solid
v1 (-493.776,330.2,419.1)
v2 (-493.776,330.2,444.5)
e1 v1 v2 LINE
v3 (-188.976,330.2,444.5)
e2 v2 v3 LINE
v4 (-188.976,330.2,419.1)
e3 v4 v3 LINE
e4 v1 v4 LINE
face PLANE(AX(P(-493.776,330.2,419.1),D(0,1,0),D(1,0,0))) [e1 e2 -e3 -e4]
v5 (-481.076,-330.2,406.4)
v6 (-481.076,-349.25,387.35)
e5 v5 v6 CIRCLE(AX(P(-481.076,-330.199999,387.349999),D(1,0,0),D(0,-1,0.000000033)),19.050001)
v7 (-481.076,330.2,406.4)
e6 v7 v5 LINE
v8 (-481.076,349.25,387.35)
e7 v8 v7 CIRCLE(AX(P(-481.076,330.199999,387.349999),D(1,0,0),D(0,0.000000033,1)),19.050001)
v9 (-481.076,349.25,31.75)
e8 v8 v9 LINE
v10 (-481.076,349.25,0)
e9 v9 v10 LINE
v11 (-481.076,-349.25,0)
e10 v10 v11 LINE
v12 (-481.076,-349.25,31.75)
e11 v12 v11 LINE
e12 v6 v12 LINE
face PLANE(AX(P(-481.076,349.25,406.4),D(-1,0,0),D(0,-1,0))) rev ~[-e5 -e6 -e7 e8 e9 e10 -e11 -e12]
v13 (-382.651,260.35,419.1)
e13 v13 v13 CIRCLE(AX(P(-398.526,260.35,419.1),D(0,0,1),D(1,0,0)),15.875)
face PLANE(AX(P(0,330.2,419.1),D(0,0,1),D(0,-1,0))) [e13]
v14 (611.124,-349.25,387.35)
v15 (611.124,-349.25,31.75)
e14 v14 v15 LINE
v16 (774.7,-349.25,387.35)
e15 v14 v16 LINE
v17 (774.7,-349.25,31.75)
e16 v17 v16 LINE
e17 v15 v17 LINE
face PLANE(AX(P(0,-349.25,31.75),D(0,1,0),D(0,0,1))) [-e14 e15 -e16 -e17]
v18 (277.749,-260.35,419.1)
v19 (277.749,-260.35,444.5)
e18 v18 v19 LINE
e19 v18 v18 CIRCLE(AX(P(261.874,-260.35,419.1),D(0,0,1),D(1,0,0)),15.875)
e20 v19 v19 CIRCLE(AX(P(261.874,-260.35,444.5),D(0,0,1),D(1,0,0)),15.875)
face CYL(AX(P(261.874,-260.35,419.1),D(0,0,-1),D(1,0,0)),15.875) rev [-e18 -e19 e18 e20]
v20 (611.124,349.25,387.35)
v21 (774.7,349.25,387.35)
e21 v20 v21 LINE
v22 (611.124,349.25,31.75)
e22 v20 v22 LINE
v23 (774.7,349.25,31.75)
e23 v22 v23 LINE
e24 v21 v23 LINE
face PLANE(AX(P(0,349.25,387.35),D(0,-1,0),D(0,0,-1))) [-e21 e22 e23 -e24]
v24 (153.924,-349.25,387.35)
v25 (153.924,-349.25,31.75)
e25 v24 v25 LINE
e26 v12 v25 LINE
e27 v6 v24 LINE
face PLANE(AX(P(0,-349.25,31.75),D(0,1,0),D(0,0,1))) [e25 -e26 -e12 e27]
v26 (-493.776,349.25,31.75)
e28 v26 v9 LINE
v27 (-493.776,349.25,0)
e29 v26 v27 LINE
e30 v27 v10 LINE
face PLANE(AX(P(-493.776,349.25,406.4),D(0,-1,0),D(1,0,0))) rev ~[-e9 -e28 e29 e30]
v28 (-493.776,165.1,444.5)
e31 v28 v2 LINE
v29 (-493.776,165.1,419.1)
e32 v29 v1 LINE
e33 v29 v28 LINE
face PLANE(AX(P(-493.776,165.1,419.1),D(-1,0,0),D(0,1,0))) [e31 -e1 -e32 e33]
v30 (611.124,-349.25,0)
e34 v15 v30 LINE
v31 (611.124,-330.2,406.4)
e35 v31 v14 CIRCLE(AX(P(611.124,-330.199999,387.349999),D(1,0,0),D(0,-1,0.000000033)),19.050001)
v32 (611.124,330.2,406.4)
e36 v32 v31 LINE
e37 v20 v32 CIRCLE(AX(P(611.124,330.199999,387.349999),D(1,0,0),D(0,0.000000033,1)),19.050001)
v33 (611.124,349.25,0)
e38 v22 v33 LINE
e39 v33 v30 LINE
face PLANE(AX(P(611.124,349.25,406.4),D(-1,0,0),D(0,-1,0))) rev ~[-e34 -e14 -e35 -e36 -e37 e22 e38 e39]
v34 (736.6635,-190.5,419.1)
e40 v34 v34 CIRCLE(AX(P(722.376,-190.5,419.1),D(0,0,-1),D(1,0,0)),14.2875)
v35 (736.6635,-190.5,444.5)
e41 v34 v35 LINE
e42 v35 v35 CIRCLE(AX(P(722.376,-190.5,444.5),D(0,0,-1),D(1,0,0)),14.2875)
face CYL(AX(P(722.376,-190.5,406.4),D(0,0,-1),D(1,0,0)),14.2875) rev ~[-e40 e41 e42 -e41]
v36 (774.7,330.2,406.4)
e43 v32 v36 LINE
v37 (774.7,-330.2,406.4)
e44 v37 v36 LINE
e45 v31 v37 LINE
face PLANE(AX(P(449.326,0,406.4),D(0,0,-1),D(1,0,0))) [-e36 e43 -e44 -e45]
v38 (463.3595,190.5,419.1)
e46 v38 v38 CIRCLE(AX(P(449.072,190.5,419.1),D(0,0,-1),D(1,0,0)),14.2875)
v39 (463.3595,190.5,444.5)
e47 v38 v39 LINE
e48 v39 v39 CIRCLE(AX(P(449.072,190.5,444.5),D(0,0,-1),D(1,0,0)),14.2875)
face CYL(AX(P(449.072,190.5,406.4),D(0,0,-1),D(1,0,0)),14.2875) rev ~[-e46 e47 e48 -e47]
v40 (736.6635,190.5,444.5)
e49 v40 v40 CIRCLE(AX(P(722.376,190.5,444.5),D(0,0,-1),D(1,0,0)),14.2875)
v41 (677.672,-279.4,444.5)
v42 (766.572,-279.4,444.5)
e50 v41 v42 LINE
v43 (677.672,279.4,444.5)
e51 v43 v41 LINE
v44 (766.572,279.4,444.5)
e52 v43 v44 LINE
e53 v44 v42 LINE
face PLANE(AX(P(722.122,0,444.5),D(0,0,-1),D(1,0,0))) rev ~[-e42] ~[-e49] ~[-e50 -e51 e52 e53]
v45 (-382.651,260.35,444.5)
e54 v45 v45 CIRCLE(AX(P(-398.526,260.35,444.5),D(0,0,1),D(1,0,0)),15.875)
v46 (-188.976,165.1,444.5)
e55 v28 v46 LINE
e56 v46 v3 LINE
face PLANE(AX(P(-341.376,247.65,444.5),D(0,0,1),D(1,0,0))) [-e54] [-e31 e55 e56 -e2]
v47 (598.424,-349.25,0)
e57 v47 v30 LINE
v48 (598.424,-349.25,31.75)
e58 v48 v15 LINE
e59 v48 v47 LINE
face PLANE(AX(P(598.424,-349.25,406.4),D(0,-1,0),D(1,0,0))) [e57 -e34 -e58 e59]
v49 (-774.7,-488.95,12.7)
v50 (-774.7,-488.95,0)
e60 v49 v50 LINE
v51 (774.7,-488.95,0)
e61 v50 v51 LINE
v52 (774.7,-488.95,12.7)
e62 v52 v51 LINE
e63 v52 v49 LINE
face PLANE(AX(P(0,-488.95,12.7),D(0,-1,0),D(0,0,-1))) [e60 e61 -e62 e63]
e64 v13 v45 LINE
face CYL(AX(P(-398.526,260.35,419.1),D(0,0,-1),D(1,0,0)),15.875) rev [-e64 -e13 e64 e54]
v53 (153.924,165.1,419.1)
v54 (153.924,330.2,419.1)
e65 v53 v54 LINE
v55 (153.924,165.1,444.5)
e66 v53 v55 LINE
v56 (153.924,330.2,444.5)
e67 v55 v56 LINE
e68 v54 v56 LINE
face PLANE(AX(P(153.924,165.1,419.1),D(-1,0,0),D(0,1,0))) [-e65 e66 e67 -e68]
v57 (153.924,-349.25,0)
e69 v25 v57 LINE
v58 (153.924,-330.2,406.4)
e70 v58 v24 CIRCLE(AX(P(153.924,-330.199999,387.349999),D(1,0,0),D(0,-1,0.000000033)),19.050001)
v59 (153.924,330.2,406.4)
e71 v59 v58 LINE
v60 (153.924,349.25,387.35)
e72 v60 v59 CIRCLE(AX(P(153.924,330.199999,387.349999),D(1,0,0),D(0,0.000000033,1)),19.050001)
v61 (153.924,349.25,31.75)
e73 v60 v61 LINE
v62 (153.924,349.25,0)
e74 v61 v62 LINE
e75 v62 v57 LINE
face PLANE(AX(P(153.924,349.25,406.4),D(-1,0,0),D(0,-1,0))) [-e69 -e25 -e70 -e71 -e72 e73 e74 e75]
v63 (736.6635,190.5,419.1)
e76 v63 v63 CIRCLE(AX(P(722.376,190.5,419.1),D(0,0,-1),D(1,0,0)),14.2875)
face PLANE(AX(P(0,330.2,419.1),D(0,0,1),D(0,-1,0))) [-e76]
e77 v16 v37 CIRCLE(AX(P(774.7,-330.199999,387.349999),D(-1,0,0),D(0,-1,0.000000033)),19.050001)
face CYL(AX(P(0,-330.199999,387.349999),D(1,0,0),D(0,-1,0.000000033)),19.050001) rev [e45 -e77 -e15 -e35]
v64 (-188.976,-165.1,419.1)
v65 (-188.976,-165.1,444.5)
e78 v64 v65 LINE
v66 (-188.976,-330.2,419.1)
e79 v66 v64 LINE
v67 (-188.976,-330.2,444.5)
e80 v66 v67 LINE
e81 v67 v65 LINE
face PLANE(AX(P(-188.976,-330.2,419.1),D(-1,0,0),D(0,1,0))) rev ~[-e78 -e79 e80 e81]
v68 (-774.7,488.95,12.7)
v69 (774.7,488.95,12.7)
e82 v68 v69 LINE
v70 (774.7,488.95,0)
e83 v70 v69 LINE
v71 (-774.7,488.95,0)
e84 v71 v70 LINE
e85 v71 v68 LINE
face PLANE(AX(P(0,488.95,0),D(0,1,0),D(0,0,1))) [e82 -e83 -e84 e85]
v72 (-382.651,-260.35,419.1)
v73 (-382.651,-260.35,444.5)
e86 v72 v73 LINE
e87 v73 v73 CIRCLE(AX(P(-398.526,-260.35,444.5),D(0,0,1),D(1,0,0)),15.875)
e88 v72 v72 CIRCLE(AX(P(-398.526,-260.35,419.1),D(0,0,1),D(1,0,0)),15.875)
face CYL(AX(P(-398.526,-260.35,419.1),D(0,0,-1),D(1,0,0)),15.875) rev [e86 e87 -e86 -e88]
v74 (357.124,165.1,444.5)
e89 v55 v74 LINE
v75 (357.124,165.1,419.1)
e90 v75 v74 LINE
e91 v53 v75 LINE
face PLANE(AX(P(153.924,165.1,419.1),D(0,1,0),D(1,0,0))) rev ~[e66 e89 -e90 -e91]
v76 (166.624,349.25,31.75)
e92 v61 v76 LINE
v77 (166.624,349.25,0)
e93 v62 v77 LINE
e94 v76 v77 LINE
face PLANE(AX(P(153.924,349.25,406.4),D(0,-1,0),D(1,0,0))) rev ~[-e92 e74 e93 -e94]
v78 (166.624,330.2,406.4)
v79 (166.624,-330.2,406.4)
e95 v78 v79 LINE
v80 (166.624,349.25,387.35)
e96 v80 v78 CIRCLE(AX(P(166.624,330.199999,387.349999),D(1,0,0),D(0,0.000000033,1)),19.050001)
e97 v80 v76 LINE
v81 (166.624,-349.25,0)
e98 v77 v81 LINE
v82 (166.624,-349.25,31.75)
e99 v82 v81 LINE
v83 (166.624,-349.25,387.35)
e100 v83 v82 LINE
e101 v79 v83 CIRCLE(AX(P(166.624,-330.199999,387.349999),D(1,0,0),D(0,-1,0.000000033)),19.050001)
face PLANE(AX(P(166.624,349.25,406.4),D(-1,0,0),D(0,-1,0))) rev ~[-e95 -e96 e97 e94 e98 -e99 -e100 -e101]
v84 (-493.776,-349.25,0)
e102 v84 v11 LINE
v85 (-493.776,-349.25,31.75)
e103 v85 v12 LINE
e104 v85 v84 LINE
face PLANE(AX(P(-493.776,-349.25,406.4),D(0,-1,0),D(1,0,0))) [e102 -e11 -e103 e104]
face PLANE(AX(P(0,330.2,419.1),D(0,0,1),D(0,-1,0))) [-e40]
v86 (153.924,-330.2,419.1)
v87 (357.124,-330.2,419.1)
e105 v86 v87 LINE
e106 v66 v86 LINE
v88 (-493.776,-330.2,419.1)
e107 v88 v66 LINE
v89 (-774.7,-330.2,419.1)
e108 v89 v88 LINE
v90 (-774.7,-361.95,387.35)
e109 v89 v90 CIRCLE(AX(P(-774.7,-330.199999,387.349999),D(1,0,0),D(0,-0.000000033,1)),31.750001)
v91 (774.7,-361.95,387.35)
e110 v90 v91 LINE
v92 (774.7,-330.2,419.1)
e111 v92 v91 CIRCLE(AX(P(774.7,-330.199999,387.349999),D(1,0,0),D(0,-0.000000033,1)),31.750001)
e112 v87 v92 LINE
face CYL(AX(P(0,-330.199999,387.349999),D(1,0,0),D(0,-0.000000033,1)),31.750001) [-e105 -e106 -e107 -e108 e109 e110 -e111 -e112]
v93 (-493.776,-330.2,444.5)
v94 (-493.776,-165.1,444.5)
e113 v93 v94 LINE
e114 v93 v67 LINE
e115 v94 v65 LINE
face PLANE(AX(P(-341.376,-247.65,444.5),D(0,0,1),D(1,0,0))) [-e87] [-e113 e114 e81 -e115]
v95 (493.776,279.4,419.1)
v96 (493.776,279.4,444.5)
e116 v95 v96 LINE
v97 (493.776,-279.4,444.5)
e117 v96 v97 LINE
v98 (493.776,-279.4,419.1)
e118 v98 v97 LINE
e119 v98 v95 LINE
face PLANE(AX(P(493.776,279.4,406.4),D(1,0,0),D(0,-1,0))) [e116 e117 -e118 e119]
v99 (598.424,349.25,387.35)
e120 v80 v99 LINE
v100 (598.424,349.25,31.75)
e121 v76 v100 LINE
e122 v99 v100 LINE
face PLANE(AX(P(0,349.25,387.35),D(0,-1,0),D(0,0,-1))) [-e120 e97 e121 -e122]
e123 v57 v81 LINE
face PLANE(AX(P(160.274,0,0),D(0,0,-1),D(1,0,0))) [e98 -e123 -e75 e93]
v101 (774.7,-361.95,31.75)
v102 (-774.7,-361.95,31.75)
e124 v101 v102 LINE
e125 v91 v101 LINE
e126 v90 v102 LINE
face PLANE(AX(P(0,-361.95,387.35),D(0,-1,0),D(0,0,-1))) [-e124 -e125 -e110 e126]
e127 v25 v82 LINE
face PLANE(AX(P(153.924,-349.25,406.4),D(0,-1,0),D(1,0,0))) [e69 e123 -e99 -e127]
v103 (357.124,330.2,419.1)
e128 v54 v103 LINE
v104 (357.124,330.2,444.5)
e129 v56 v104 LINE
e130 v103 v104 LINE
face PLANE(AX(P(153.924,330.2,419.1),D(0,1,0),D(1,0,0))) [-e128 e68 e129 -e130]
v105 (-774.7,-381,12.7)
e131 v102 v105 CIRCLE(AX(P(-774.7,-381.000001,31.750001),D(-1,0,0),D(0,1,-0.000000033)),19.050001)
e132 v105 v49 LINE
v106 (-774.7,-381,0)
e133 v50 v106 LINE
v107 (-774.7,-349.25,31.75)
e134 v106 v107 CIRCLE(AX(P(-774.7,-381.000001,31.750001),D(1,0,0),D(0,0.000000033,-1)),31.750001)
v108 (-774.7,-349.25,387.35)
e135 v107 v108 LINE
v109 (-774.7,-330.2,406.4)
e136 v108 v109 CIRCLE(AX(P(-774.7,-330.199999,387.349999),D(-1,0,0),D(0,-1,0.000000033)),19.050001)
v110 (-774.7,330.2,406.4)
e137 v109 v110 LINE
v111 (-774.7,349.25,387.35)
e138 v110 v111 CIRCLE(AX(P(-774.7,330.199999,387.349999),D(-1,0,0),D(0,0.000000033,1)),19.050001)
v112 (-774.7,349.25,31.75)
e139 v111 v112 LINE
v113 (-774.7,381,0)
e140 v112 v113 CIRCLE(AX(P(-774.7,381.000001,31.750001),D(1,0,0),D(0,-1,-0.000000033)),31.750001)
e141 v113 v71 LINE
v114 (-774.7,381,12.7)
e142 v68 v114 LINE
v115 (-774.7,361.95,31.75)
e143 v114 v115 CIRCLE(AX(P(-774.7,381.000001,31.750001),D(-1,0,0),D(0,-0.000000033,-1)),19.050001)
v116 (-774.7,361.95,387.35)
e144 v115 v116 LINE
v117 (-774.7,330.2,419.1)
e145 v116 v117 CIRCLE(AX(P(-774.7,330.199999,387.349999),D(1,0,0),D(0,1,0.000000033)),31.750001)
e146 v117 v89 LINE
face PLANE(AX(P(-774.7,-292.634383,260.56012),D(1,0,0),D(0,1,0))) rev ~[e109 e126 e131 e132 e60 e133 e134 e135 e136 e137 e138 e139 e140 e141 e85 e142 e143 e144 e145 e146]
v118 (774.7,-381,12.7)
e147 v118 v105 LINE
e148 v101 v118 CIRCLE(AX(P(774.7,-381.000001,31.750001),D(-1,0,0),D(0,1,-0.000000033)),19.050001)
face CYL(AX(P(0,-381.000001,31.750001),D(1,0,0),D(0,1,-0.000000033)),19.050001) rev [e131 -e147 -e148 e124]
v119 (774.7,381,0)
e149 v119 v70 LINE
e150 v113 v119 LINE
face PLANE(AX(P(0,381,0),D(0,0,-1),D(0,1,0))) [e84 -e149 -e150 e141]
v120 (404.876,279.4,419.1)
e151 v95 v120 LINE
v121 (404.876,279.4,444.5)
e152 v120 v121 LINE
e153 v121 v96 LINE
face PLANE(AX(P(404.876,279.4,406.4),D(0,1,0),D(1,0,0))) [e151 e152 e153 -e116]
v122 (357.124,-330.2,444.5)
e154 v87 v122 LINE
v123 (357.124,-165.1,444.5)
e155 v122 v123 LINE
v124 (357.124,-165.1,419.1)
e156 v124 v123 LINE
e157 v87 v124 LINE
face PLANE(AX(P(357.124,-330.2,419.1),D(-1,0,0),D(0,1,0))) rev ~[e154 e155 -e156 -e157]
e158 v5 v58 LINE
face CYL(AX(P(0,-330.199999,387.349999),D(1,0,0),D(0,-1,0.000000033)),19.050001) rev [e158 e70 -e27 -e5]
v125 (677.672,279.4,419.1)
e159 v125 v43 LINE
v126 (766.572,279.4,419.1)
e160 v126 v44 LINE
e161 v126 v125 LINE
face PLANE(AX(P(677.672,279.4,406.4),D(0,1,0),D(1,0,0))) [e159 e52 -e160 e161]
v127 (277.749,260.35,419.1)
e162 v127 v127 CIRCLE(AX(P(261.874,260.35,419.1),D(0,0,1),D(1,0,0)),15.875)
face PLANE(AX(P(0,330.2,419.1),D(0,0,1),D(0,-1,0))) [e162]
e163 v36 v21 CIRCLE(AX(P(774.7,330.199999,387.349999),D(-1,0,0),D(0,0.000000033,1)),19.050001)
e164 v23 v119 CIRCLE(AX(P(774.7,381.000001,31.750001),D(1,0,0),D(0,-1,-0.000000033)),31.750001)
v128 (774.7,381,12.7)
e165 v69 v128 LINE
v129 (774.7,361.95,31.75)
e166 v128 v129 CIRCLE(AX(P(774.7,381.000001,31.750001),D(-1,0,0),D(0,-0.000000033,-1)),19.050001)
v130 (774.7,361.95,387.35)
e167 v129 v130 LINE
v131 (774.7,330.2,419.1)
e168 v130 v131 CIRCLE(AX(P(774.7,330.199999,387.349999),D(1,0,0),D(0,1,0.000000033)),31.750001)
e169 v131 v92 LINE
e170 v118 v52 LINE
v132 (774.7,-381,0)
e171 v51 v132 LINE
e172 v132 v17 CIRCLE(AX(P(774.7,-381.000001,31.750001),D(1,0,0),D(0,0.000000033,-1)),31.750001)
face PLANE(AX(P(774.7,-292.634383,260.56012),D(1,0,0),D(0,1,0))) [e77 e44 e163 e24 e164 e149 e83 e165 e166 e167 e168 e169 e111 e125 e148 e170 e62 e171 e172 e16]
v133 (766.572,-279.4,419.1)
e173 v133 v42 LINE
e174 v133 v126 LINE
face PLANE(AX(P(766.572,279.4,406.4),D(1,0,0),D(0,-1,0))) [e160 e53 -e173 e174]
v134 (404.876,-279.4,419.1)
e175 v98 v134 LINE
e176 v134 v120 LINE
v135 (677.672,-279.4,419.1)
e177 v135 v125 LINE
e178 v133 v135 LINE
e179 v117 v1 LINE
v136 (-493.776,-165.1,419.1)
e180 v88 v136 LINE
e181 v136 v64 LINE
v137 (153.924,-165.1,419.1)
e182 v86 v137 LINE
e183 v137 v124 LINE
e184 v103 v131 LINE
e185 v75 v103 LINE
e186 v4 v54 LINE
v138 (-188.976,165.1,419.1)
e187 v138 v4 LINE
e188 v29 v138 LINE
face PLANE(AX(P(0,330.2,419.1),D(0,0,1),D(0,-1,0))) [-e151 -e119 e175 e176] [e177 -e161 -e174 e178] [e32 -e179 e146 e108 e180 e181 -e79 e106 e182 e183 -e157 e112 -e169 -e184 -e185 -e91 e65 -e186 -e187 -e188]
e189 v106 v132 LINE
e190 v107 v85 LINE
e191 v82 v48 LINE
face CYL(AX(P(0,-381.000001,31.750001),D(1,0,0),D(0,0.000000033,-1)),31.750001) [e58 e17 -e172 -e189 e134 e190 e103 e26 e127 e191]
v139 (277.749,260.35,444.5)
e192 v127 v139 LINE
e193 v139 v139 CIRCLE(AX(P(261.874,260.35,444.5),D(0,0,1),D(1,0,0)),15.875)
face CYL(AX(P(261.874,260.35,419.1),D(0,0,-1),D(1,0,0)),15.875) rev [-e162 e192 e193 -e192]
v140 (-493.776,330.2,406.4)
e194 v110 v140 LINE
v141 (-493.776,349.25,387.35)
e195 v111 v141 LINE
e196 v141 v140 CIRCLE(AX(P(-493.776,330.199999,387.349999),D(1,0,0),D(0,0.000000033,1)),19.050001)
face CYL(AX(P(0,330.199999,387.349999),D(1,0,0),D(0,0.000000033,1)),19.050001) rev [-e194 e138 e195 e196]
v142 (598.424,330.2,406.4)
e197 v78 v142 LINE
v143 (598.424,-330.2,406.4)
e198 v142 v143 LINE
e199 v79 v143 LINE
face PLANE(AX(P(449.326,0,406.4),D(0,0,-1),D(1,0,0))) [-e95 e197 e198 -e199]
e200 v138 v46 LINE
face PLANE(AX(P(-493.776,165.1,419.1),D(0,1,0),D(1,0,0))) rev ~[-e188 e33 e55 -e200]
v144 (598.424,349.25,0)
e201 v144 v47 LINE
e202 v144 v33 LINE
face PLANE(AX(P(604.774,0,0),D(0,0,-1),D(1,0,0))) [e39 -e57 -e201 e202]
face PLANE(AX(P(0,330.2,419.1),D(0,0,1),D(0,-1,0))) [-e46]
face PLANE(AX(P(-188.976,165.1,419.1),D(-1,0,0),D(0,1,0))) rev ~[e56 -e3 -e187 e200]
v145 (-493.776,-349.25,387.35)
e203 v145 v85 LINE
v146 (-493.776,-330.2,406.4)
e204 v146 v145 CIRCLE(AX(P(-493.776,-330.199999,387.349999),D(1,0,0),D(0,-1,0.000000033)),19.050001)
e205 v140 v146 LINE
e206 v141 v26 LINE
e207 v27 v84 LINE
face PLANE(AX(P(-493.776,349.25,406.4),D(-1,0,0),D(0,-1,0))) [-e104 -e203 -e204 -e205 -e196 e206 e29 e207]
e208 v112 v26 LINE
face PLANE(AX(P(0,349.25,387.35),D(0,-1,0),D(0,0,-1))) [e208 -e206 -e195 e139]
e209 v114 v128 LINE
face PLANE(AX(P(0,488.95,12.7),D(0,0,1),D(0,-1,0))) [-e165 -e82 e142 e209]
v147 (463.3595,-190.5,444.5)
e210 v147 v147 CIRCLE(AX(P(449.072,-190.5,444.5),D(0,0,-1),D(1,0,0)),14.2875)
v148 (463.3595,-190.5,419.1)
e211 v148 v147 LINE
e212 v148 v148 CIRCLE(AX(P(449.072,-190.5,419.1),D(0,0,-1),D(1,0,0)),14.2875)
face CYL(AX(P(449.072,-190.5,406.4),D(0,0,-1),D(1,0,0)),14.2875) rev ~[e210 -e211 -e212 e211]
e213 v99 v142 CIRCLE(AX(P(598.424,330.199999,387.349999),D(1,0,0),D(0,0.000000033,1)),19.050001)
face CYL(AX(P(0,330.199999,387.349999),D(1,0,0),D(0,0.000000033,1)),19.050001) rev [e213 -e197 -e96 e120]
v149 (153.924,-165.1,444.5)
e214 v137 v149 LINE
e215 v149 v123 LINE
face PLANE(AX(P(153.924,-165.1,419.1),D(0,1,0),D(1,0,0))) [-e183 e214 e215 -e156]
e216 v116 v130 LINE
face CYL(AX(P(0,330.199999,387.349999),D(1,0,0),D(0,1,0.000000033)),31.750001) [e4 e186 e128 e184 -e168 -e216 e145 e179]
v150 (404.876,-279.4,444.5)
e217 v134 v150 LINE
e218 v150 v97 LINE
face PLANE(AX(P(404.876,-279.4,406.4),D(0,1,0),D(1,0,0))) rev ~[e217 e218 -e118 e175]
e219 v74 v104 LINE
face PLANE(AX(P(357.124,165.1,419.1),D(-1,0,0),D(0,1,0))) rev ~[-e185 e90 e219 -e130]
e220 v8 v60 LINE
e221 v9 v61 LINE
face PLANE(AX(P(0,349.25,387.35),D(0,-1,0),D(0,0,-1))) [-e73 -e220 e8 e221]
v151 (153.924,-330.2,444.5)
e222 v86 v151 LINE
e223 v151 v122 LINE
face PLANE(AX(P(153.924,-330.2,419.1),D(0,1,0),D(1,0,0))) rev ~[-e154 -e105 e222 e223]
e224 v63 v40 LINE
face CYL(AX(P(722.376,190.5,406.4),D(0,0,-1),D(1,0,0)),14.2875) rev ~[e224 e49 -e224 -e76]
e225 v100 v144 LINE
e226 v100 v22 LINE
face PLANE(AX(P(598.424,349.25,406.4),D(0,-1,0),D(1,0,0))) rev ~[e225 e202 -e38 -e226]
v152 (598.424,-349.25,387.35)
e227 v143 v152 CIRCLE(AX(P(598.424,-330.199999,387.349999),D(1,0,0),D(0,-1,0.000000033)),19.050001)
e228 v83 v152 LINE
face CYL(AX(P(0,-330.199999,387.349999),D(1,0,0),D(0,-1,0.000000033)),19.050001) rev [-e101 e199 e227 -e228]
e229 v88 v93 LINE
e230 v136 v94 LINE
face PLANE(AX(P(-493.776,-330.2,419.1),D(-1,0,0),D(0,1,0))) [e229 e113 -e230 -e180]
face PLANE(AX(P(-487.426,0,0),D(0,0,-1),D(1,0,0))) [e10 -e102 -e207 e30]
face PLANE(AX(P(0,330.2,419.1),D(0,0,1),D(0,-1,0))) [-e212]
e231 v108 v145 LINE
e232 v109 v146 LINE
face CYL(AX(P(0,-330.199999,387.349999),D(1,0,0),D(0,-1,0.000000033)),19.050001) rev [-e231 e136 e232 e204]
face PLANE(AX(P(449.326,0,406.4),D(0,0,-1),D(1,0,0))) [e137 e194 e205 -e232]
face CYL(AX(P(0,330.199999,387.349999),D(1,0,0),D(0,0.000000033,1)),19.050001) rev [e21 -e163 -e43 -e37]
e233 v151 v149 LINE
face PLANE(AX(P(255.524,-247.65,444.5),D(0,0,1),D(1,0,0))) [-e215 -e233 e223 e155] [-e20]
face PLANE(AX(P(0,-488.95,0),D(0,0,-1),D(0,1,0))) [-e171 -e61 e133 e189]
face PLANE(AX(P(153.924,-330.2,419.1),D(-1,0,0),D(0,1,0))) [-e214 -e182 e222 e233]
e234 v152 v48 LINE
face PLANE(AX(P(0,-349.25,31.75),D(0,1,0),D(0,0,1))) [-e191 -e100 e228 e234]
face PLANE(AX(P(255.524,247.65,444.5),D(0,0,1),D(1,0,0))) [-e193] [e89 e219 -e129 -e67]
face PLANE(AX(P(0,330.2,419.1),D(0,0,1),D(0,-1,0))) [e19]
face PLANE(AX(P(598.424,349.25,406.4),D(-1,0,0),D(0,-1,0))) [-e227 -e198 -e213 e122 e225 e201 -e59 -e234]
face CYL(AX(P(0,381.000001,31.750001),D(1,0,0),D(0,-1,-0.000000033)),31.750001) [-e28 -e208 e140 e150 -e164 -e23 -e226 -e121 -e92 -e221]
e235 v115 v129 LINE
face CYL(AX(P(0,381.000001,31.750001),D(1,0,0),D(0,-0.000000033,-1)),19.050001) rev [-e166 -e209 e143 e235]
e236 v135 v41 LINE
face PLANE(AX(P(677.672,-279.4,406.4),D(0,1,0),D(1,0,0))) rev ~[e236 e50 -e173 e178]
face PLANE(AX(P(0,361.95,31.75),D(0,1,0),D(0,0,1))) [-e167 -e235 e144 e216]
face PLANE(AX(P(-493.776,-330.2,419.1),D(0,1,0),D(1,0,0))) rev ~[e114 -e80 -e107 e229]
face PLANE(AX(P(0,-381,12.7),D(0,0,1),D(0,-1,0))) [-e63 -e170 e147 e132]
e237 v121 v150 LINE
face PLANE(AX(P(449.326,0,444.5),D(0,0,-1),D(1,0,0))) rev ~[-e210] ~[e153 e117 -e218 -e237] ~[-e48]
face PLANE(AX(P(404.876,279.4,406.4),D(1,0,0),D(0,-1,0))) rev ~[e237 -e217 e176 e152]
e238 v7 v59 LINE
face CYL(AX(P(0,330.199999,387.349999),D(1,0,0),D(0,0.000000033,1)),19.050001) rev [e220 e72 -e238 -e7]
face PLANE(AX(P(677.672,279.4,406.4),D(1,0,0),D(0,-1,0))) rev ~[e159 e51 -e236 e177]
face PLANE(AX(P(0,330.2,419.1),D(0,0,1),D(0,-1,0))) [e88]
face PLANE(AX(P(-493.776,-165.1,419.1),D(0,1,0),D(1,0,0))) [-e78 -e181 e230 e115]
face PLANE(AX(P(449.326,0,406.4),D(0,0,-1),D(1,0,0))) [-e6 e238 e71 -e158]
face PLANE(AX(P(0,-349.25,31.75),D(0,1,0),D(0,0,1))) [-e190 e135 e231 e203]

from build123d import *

# Parameters (mm, degrees)
F1_DEPTH = 774.7
F2_W     = 304.8
F2_H     = 165.1
F2_R     = 15.875
F2_W_2   = 203.2
F3_DEPTH = 25.4
F4_W     = 88.9
F4_H     = 558.8
F4_R     = 14.2875
F5_DEPTH = 38.1
F6_W     = 12.7
F6_H     = 698.5
F7_DEPTH = 406.4


with BuildPart() as f1:
    # F0 (on Right) → F1 (new body, symmetric)
    with BuildSketch(Plane.YZ):
        with BuildLine():
            Line((-488.95, 12.7), (-488.95, 0))
            Line((-488.95, 0), (-381, 0))
            ThreePointArc((-381, 0), (-358.54936, 9.29936), (-349.25, 31.75))
            Line((-349.25, 31.75), (-349.25, 387.35))
            ThreePointArc((-349.25, 387.35), (-343.670384, 400.820384), (-330.2, 406.4))
            Line((-330.2, 406.4), (0, 406.4))
            Line((0, 406.4), (0, 419.1))
            Line((0, 419.1), (-330.2, 419.1))
            ThreePointArc((-330.2, 419.1), (-352.65064, 409.80064), (-361.95, 387.35))
            Line((-361.95, 387.35), (-361.95, 31.75))
            ThreePointArc((-361.95, 31.75), (-367.529616, 18.279616), (-381, 12.7))
            Line((-381, 12.7), (-488.95, 12.7))
        make_face()
        with BuildLine():
            Line((0, 419.1), (0, 406.4))
            Line((0, 406.4), (330.2, 406.4))
            ThreePointArc((330.2, 406.4), (343.670384, 400.820384), (349.25, 387.35))
            Line((349.25, 387.35), (349.25, 31.75))
            ThreePointArc((349.25, 31.75), (358.54936, 9.29936), (381, 0))
            Line((381, 0), (488.95, 0))
            Line((488.95, 0), (488.95, 12.7))
            Line((488.95, 12.7), (381, 12.7))
            ThreePointArc((381, 12.7), (367.529616, 18.279616), (361.95, 31.75))
            Line((361.95, 31.75), (361.95, 387.35))
            ThreePointArc((361.95, 387.35), (352.65064, 409.80064), (330.2, 419.1))
            Line((330.2, 419.1), (0, 419.1))
        make_face()
    extrude(amount=F1_DEPTH, both=True)

    # F2 (on face) → F3 (join)
    with BuildSketch(Plane.XY.offset(419.1)):
        with Locations((-341.376, 247.65)):
            Rectangle(F2_W, F2_H)
        with Locations((-398.526, 260.35)):
            Circle(F2_R, mode=Mode.SUBTRACT)
        with Locations((255.524, 247.65)):
            Rectangle(F2_W_2, F2_H)
        with Locations((261.874, 260.35)):
            Circle(F2_R, mode=Mode.SUBTRACT)
        with Locations((-341.376, -247.65)):
            Rectangle(F2_W, F2_H)
        with Locations((-398.526, -260.35)):
            Circle(F2_R, mode=Mode.SUBTRACT)
        with Locations((255.524, -247.65)):
            Rectangle(F2_W_2, F2_H)
        with Locations((261.874, -260.35)):
            Circle(F2_R, mode=Mode.SUBTRACT)
    extrude(amount=F3_DEPTH)

    # F4 (on face) → F5 (join, through all)
    with BuildSketch(Plane(origin=(0, 0, 406.4), x_dir=(1, 0, 0), z_dir=(0, 0, -1))):
        with Locations((449.326, 0)):
            Rectangle(F4_W, F4_H)
        with Locations((449.072, -190.5)):
            Circle(F4_R, mode=Mode.SUBTRACT)
        with Locations((449.072, 190.5)):
            Circle(F4_R, mode=Mode.SUBTRACT)
        with Locations((722.122, 0)):
            Rectangle(F4_W, F4_H)
        with Locations((722.376, -190.5)):
            Circle(F4_R, mode=Mode.SUBTRACT)
        with Locations((722.376, 190.5)):
            Circle(F4_R, mode=Mode.SUBTRACT)
    extrude(amount=-F5_DEPTH)

    # F6 (on face) → F7 (join, through all)
    with BuildSketch(Plane(origin=(0, 0, 406.4), x_dir=(1, 0, 0), z_dir=(0, 0, -1))):
        with Locations((-487.426, 0)):
            Rectangle(F6_W, F6_H)
        with Locations((160.274, 0)):
            Rectangle(F6_W, F6_H)
        with Locations((604.774, 0)):
            Rectangle(F6_W, F6_H)
    extrude(amount=F7_DEPTH)


solid = f1.part
